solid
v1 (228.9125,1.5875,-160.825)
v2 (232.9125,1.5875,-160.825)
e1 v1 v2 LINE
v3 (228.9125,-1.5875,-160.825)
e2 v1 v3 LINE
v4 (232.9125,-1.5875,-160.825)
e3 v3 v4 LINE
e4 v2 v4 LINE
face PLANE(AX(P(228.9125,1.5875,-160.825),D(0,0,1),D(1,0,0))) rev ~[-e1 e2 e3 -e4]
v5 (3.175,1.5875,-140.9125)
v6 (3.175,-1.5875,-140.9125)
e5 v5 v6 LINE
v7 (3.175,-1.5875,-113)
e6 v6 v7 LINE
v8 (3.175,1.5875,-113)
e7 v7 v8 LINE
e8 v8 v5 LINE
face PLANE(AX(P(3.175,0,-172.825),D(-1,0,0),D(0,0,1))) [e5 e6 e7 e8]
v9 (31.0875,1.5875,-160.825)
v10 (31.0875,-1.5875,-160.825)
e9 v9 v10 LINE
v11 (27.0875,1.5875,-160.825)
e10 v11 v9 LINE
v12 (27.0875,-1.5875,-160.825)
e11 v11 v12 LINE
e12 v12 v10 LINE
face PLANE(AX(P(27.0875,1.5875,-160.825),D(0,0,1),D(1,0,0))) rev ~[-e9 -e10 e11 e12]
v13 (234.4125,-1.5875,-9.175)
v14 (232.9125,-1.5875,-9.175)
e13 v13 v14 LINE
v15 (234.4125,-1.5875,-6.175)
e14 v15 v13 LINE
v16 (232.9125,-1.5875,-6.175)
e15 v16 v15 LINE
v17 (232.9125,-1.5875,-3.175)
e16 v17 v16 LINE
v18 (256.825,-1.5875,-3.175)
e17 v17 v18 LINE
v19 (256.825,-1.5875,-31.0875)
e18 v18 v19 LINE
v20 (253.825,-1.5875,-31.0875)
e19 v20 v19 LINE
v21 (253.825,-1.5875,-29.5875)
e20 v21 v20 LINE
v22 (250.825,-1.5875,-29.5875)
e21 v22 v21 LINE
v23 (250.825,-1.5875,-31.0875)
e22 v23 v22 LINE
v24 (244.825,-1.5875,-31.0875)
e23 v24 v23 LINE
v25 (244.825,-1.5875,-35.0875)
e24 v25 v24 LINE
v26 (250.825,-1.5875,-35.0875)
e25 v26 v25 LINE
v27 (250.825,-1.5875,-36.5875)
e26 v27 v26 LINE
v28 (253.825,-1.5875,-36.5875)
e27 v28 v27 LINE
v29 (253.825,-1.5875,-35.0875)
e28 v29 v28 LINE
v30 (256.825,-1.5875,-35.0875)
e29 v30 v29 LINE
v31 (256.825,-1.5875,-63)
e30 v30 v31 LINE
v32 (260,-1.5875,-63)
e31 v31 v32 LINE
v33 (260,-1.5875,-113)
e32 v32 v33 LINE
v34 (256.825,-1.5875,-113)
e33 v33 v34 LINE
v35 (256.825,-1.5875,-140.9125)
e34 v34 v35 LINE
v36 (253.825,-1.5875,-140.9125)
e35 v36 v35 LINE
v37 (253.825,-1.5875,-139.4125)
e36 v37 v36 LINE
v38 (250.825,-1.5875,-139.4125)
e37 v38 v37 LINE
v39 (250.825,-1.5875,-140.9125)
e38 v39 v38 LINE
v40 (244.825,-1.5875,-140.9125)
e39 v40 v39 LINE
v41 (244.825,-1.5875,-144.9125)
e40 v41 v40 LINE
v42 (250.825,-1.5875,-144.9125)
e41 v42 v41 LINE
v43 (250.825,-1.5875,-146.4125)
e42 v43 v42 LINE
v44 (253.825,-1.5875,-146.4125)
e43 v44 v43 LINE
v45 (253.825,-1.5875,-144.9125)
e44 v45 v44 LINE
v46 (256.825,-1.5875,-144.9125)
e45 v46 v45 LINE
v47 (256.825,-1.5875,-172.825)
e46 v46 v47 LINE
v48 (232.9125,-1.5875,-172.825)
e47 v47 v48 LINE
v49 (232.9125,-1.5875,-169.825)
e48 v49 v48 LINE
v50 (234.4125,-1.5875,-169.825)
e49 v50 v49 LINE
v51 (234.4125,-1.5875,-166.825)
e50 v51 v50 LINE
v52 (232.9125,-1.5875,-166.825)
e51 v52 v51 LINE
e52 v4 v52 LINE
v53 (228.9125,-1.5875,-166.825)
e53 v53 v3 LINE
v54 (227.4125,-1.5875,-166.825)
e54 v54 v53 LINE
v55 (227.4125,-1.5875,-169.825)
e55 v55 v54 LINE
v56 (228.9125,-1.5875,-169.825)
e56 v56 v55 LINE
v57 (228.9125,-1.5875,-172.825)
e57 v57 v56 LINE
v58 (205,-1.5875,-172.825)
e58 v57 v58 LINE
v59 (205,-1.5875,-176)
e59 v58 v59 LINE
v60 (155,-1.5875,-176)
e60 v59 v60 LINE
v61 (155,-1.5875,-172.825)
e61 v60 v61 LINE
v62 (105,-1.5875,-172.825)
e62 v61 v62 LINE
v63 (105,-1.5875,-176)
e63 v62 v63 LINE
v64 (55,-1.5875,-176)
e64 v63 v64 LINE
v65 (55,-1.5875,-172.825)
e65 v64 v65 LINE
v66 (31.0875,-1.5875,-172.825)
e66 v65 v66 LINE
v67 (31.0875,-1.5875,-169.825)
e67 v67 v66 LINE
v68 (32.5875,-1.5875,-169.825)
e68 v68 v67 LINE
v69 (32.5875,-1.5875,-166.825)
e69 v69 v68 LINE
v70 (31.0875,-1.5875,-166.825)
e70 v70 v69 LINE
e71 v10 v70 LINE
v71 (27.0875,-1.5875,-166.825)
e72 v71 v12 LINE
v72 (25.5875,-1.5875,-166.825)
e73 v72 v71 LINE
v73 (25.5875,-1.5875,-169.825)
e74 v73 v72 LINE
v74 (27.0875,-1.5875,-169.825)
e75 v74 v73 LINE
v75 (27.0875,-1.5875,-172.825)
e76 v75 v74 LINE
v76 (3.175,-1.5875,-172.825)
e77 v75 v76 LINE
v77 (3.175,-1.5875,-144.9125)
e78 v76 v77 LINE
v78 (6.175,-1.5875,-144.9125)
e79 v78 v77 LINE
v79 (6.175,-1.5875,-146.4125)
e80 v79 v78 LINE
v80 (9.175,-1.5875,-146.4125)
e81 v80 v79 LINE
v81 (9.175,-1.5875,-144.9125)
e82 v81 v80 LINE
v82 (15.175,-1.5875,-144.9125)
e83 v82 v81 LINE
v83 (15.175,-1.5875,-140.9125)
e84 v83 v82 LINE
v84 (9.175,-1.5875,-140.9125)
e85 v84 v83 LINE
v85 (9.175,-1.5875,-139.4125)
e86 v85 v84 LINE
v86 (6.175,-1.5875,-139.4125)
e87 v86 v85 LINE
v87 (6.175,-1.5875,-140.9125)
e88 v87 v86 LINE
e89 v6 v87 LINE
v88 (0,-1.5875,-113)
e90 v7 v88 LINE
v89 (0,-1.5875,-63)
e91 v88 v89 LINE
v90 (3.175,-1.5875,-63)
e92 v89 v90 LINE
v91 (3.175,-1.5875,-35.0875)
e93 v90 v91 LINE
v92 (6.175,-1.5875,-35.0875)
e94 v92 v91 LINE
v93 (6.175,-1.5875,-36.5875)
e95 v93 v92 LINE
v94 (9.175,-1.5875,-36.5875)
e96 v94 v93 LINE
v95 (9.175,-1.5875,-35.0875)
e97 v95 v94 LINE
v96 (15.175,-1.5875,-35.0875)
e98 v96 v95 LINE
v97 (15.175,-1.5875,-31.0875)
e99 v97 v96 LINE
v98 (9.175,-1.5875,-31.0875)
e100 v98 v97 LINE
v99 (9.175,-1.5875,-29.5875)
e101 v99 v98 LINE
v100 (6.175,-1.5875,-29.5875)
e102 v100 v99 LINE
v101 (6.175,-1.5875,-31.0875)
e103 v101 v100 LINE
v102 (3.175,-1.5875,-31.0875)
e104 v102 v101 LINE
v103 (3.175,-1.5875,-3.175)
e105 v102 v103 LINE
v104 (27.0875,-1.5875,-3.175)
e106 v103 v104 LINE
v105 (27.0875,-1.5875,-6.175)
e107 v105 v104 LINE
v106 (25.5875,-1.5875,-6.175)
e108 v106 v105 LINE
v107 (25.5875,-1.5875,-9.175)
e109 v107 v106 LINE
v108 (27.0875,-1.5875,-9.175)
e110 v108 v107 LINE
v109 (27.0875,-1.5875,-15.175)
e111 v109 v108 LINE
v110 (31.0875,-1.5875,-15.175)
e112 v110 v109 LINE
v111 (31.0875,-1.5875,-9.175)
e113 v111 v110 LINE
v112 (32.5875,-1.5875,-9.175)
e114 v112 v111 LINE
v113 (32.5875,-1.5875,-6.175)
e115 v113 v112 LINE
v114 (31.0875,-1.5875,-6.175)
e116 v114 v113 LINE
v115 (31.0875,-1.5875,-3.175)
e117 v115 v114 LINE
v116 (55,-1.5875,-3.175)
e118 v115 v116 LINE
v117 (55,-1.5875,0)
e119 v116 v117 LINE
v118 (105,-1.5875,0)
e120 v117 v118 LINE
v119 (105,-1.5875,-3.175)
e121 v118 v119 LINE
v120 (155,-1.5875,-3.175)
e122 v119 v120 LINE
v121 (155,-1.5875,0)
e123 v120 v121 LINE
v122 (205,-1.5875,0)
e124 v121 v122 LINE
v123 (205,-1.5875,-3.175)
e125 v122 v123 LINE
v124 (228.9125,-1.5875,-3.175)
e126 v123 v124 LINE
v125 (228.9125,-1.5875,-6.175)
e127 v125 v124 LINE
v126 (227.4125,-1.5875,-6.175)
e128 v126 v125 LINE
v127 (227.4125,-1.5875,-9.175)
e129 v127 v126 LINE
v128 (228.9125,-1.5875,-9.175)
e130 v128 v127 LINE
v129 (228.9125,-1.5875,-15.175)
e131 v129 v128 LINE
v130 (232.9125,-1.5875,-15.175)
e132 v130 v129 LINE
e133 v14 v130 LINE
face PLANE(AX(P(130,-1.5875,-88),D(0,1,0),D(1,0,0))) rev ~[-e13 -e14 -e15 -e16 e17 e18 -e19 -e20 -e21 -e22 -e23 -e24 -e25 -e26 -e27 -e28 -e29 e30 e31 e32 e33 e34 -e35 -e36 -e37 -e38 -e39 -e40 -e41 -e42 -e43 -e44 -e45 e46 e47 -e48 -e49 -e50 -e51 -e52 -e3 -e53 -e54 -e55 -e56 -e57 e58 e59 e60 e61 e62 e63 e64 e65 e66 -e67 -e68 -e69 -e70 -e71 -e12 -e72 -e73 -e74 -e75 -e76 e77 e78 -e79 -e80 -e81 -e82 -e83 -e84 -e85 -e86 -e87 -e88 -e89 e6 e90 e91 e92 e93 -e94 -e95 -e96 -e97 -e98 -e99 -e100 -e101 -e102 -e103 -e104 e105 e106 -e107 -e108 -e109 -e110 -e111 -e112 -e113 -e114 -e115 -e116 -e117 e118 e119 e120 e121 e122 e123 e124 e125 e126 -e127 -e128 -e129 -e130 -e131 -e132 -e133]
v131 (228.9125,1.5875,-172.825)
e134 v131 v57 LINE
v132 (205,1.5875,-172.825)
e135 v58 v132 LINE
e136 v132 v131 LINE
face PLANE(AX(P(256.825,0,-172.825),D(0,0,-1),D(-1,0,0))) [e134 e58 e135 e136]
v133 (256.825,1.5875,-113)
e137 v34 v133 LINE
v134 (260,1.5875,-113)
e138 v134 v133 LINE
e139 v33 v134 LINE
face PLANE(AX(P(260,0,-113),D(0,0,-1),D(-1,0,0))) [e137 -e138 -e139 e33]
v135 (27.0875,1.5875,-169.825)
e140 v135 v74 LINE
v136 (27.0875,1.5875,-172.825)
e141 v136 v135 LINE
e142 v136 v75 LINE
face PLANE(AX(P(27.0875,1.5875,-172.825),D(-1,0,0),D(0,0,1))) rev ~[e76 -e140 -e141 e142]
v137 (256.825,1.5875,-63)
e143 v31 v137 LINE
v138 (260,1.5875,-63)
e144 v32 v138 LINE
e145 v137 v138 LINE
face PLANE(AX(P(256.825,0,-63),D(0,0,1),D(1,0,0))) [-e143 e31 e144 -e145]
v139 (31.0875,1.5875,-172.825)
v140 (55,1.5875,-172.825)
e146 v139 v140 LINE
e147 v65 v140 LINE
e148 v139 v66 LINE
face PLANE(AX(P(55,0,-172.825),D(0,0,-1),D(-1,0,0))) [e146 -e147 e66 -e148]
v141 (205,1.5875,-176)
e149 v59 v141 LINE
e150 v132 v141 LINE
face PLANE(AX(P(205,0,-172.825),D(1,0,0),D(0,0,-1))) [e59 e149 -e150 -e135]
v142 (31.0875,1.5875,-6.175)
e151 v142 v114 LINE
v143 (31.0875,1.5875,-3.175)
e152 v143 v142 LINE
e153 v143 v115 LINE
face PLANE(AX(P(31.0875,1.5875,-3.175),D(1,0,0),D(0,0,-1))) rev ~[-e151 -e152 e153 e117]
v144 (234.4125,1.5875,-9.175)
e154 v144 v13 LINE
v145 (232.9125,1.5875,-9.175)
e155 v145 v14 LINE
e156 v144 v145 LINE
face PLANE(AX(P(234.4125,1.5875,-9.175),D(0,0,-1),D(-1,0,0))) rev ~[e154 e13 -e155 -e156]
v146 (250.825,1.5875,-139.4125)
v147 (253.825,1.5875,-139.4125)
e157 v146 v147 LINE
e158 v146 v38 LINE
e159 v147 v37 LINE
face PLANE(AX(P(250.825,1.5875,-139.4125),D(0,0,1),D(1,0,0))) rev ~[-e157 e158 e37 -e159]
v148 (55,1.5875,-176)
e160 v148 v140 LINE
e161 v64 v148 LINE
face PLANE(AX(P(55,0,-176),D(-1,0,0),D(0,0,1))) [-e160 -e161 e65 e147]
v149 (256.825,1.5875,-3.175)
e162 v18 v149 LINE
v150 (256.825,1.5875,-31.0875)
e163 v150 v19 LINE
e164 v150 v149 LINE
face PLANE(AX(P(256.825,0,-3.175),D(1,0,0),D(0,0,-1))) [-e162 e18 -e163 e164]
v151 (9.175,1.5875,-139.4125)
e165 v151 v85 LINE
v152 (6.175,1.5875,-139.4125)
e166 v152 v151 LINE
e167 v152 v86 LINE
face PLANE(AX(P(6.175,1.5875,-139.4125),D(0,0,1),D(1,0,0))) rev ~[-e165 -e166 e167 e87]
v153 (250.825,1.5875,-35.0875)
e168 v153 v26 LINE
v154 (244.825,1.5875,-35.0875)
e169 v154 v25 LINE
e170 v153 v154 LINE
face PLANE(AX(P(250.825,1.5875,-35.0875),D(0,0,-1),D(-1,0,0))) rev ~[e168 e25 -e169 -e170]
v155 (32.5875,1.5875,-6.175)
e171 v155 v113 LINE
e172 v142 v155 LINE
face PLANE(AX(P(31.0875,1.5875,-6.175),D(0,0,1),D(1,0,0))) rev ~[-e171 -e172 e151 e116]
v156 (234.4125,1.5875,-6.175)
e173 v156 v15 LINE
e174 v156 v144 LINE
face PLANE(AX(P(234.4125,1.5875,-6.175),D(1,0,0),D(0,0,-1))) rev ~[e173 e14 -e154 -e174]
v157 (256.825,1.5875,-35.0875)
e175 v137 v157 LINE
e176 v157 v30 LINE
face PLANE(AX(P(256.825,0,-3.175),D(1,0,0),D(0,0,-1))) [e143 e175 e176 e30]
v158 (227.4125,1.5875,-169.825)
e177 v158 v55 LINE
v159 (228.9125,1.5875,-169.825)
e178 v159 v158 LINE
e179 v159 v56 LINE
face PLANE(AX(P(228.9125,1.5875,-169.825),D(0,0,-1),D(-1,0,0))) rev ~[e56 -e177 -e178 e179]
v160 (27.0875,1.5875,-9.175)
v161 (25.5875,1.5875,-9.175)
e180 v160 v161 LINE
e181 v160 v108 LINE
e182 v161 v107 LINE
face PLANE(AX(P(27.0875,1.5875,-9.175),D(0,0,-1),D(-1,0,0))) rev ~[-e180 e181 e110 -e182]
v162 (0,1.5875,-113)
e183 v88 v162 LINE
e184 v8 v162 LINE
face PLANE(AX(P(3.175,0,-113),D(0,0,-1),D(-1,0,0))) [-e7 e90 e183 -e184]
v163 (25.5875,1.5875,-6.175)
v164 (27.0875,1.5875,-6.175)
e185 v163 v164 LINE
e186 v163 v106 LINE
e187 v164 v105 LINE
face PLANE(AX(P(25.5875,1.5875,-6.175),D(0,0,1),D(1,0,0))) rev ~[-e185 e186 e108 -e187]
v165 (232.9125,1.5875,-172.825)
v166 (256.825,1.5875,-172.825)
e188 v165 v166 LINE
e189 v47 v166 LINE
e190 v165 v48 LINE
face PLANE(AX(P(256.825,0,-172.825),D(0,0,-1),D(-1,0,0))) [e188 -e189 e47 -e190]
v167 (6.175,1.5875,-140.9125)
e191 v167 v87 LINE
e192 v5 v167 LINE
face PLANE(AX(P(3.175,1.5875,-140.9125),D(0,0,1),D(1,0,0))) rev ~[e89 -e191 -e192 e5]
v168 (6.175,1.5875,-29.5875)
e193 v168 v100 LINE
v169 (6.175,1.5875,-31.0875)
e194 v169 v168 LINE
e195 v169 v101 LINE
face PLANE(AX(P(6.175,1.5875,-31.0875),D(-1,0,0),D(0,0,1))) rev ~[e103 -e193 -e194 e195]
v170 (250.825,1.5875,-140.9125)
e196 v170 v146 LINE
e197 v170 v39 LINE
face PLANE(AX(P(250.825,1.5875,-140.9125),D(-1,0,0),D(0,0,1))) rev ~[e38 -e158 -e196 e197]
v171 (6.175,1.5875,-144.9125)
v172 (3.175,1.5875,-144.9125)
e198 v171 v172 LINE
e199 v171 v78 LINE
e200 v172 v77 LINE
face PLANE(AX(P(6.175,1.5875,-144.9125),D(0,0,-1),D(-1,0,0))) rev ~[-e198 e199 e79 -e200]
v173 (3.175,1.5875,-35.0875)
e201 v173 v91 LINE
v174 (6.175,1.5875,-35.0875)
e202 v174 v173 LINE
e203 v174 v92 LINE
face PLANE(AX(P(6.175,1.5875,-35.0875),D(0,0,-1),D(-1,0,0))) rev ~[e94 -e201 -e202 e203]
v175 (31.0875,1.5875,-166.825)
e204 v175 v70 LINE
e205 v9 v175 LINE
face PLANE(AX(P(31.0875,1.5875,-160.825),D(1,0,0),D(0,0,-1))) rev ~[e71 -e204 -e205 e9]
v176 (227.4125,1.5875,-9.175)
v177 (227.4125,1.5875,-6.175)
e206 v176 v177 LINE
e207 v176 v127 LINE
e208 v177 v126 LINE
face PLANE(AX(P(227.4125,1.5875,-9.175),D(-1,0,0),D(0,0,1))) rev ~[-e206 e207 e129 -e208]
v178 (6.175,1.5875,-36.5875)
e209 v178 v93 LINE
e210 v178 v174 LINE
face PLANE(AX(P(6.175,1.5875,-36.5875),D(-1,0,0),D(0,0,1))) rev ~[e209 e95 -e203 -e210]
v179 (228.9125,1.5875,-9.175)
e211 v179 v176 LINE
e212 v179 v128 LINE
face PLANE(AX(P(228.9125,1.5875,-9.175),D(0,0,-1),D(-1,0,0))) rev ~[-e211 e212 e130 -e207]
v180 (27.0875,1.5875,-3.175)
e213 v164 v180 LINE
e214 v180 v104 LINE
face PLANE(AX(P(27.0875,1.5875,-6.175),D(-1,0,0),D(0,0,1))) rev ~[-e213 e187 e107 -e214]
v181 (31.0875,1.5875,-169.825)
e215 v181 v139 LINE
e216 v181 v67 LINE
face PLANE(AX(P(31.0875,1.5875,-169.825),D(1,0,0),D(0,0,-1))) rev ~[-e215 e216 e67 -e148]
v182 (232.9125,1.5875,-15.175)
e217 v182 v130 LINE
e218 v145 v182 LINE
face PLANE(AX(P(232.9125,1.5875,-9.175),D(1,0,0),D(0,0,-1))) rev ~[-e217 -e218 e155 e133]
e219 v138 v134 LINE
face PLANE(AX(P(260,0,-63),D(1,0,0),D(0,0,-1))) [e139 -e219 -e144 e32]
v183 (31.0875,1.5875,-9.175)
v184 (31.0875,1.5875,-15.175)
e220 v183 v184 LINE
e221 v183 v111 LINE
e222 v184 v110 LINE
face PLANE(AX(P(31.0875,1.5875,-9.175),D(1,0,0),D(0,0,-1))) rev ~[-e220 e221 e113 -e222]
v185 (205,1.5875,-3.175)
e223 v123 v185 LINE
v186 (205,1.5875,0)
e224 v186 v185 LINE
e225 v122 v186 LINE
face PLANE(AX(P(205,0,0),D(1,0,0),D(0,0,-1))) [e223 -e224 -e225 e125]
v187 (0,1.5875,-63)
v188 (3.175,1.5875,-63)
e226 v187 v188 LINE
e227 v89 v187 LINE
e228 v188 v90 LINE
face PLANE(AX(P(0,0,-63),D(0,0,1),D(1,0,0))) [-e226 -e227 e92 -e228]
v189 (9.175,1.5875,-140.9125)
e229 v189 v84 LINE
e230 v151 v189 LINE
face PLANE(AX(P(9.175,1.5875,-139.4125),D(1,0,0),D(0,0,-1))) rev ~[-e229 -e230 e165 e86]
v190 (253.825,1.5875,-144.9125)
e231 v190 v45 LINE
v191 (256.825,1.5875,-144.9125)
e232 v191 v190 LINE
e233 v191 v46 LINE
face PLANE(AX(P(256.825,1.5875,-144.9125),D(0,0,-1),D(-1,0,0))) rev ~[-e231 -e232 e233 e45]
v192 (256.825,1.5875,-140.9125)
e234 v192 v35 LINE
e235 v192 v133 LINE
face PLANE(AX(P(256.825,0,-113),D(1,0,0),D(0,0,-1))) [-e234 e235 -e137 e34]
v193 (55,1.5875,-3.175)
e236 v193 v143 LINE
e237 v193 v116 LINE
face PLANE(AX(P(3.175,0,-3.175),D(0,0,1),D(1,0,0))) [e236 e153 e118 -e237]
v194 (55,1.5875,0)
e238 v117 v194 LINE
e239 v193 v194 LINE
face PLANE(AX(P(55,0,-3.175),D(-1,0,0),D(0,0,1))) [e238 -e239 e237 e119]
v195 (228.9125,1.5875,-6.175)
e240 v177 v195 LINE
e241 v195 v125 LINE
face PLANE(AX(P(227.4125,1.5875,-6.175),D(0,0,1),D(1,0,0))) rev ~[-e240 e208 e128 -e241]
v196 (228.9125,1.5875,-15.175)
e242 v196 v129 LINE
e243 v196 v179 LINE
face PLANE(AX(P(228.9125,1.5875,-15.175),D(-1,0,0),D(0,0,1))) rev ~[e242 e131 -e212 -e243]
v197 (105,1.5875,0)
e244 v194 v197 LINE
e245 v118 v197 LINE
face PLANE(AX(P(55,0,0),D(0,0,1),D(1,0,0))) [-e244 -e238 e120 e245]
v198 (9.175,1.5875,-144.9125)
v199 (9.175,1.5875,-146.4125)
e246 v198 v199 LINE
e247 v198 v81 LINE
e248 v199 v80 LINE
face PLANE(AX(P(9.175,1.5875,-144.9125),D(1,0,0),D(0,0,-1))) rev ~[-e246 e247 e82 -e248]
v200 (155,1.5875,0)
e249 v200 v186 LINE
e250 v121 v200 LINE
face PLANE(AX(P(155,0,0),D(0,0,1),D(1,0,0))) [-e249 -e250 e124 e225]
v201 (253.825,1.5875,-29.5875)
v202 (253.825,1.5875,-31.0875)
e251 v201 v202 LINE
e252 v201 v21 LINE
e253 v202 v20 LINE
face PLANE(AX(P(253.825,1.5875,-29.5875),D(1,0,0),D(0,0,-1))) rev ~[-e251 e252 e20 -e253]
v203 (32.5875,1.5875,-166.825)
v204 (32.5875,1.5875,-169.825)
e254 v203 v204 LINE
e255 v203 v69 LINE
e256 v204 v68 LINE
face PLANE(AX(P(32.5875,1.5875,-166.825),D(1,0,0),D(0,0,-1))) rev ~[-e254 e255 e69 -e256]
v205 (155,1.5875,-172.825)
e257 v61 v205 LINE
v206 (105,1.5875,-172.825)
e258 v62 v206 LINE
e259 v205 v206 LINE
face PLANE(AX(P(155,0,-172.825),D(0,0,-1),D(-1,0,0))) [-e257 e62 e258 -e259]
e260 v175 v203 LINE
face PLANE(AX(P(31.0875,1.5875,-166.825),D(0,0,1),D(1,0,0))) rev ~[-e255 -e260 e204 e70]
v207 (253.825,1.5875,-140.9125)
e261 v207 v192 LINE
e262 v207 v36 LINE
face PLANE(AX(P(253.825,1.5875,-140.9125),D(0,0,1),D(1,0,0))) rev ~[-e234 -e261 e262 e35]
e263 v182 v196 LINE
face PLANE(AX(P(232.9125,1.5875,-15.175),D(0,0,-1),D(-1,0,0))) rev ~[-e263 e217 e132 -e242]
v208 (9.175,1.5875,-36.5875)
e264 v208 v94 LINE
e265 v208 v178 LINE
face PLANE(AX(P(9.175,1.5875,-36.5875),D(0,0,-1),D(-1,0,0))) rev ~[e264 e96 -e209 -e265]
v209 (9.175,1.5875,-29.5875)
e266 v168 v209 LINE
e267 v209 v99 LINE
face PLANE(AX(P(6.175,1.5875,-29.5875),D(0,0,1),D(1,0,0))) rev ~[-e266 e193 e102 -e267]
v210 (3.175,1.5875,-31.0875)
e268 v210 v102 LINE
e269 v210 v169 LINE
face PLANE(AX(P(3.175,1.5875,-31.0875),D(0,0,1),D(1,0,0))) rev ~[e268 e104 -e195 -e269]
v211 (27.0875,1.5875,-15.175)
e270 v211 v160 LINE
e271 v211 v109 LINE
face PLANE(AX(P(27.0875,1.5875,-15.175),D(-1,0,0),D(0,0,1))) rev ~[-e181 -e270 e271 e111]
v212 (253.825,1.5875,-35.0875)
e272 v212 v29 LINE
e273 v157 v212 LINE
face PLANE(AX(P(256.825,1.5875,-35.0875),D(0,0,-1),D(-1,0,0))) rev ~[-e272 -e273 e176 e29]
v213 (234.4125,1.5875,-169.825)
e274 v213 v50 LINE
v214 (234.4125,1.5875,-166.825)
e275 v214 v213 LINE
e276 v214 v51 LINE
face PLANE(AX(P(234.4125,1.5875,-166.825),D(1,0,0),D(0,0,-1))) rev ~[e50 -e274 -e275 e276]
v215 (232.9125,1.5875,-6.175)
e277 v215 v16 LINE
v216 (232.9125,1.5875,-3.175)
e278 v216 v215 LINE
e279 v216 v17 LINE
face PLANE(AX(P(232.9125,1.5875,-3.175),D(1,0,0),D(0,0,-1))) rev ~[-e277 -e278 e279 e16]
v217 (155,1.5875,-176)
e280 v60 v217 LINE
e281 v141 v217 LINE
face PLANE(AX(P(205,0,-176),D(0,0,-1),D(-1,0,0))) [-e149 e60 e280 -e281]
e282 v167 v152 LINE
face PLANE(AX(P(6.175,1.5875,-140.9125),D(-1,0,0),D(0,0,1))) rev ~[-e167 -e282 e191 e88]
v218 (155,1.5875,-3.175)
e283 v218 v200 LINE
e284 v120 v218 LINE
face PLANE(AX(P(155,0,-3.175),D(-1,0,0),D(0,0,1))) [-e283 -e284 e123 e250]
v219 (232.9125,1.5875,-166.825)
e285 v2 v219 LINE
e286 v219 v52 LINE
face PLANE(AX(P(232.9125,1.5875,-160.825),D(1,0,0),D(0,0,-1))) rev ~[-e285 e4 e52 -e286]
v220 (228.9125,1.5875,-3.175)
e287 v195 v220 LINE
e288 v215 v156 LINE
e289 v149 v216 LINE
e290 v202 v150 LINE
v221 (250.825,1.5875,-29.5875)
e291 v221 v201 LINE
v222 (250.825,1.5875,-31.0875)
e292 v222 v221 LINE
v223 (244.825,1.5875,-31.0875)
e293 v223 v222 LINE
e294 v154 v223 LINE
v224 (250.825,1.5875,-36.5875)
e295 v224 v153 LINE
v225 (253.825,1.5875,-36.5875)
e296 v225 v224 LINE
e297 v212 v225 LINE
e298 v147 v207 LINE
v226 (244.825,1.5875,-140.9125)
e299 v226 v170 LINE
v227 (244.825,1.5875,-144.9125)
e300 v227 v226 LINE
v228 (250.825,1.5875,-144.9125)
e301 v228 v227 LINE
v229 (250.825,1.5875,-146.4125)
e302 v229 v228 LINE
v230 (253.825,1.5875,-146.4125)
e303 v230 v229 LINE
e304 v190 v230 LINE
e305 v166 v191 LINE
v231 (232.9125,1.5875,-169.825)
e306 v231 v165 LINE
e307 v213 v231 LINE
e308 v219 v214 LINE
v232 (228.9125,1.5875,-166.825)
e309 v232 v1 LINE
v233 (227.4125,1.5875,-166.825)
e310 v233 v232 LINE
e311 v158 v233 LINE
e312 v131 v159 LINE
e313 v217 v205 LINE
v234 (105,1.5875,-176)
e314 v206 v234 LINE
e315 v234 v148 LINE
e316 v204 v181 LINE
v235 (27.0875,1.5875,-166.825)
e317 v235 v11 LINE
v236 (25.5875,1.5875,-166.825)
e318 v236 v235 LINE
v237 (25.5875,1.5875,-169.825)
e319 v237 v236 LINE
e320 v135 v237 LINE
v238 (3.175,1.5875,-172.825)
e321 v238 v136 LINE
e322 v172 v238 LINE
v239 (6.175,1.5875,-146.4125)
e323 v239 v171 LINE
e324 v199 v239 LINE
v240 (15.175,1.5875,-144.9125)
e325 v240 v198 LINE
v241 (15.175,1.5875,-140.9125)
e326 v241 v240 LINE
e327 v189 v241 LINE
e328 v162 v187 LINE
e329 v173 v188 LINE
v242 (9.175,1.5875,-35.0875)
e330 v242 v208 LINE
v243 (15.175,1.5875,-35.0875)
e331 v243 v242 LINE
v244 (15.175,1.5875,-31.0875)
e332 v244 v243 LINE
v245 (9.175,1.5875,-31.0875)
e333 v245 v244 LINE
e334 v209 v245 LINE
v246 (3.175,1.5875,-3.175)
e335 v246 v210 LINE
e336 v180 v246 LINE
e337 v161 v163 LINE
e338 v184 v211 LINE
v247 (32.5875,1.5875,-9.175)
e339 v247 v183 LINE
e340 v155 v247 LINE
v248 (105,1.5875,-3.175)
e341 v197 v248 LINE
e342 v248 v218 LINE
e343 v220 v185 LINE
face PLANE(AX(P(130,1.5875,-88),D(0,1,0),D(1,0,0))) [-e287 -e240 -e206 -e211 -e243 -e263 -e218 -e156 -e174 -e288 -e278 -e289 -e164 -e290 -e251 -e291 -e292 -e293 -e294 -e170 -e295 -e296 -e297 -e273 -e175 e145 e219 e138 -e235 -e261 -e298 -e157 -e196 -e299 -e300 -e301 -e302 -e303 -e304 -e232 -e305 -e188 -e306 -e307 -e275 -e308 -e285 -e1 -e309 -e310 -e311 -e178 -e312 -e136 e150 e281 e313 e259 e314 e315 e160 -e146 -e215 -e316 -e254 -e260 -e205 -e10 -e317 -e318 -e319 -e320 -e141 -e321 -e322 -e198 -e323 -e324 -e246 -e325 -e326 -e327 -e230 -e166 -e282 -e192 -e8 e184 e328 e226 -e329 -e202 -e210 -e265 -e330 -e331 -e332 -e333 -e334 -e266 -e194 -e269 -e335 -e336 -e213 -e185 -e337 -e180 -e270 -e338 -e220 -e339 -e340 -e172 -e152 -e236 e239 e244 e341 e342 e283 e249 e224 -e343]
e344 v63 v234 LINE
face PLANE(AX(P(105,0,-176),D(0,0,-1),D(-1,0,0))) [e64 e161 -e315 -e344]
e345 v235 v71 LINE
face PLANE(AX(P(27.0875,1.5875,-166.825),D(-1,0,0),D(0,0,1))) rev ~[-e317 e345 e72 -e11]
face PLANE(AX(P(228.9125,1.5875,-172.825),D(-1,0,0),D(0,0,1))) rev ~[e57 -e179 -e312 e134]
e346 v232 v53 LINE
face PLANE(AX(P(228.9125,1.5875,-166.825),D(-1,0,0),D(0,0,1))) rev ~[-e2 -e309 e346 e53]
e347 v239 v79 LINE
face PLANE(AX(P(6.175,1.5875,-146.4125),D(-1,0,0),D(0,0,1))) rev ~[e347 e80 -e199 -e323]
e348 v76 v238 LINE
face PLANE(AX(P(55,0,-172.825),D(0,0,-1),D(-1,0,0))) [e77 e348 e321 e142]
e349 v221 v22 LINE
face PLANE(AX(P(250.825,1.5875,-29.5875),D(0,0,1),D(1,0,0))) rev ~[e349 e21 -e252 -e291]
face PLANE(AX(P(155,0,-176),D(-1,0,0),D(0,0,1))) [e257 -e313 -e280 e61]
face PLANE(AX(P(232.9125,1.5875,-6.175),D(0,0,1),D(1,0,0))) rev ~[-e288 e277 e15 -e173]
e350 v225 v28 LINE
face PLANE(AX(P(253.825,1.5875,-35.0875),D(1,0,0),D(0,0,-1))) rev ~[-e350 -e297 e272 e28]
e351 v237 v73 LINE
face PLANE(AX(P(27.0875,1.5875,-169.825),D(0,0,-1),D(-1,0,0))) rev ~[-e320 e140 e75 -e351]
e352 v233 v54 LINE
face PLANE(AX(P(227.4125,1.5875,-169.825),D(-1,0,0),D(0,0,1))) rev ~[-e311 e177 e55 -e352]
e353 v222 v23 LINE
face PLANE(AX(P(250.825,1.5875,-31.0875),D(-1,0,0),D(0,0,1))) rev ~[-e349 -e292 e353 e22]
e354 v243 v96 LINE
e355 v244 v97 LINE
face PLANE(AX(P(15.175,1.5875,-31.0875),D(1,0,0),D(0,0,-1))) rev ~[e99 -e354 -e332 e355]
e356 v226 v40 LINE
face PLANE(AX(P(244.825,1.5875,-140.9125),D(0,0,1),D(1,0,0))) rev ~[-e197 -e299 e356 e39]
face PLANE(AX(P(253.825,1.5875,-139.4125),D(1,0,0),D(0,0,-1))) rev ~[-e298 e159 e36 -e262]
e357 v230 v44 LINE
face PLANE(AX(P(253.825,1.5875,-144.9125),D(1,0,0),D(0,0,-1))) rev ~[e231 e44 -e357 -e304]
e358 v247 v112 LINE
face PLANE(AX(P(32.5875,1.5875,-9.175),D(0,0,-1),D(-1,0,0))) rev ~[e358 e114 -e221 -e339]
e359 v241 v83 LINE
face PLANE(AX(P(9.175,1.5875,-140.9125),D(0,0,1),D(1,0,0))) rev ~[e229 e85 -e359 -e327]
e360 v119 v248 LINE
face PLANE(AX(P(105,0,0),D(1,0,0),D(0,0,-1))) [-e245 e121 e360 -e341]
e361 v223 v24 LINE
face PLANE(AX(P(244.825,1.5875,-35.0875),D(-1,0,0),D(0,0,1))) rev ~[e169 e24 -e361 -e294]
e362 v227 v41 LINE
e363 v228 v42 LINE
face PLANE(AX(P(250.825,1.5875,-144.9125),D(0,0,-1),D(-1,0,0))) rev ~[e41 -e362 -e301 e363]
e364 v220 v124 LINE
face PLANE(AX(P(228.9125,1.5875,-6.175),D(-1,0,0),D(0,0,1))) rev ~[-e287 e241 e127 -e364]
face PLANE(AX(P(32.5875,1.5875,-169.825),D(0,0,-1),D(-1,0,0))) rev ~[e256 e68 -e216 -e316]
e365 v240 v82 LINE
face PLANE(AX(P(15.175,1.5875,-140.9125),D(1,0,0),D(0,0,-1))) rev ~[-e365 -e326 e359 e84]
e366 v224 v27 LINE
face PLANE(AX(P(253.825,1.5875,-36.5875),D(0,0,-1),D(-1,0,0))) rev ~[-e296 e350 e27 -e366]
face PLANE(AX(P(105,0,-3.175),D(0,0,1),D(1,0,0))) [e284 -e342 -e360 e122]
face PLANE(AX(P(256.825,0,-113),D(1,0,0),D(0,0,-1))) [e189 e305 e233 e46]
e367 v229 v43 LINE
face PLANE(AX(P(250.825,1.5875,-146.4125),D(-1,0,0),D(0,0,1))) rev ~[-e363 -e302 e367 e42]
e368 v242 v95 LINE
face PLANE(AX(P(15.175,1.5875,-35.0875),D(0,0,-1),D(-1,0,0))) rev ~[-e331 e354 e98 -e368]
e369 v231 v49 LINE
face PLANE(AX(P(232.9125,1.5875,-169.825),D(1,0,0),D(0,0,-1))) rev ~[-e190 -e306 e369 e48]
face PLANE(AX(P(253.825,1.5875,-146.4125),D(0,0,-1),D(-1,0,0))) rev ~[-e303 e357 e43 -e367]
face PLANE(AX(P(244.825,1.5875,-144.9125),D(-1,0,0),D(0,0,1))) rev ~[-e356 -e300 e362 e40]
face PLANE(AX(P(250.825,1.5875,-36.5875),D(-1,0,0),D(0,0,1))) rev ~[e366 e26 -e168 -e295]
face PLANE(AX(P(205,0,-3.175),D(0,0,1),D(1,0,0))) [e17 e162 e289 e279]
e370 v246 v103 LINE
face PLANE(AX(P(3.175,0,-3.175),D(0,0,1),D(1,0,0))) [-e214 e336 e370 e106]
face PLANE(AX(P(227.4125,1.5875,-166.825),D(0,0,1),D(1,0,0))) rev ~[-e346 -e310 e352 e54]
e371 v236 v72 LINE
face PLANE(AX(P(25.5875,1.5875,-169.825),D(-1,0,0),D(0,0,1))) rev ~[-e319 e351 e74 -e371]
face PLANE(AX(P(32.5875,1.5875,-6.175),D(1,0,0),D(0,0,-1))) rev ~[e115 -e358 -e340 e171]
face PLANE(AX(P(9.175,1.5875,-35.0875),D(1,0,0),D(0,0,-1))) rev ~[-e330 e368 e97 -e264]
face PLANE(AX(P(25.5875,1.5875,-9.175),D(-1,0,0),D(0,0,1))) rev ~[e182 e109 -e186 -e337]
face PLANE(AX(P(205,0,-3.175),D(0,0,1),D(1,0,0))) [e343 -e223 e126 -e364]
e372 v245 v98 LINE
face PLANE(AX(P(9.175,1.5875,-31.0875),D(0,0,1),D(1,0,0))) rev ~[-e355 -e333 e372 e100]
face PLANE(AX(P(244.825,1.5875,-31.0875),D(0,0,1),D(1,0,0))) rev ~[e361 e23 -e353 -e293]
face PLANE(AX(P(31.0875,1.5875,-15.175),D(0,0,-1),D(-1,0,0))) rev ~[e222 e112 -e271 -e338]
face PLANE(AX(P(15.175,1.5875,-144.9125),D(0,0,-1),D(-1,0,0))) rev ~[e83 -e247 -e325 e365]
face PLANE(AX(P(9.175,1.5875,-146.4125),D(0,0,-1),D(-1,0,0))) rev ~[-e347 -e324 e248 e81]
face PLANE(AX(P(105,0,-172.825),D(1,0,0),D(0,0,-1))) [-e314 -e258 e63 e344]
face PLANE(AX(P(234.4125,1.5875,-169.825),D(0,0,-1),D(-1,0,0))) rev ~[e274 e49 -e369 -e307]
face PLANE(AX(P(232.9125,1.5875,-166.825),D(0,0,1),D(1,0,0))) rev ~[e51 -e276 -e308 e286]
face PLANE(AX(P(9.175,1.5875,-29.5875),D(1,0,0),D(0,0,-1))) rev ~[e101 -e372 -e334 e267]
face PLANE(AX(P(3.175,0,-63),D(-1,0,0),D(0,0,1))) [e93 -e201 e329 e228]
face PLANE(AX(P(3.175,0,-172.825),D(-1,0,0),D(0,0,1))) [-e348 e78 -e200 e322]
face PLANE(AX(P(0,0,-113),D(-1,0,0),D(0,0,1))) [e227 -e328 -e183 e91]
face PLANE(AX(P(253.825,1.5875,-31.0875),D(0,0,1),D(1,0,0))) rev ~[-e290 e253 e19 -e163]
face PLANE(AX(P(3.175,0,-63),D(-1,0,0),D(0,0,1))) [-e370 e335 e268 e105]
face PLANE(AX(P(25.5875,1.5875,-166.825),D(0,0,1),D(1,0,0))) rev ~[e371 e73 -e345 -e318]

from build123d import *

# Parameters (mm, degrees)
BOSS_EXTRUDE1_DEPTH     = 1.5875
CUT_EXTRUDE1_DEPTH      = 1
CUT_EXTRUDE1_DEPTH_BACK = 4.175


with BuildPart() as part:
    # Sketch1 → Boss-Extrude1 (new body, symmetric)
    with BuildSketch(Plane(origin=(0, 0, 0), x_dir=(1, 0, 0), z_dir=(0, 1, 0))):
        Polygon((55, 3.175), (55, 0), (105, 0), (105, 3.175), (155, 3.175), (155, 0), (205, 0), (205, 3.175), (256.825, 3.175), (256.825, 63), (260, 63), (260, 113), (256.825, 113), (256.825, 172.825), (205, 172.825), (205, 176), (155, 176), (155, 172.825), (105, 172.825), (105, 176), (55, 176), (55, 172.825), (3.175, 172.825), (3.175, 113), (0, 113), (0, 63), (3.175, 63), (3.175, 3.175), align=None)
    extrude(amount=BOSS_EXTRUDE1_DEPTH, both=True)

    # Sketch3 → Cut-Extrude1 (cut, two sides)
    with BuildSketch(Plane(origin=(0, 1.5875, 0), x_dir=(1, 0, 0), z_dir=(0, 1, 0))) as cut_extrude1_sk:
        Polygon((228.9125, 3.175), (232.9125, 3.175), (232.9125, 6.175), (234.4125, 6.175), (234.4125, 9.175), (232.9125, 9.175), (232.9125, 15.175), (228.9125, 15.175), (228.9125, 9.175), (227.4125, 9.175), (227.4125, 6.175), (228.9125, 6.175), align=None)
        Polygon((253.825, 31.0875), (256.825, 31.0875), (256.825, 35.0875), (253.825, 35.0875), (253.825, 36.5875), (250.825, 36.5875), (250.825, 35.0875), (244.825, 35.0875), (244.825, 31.0875), (250.825, 31.0875), (250.825, 29.5875), (253.825, 29.5875), align=None)
        Polygon((253.825, 140.9125), (256.825, 140.9125), (256.825, 144.9125), (253.825, 144.9125), (253.825, 146.4125), (250.825, 146.4125), (250.825, 144.9125), (244.825, 144.9125), (244.825, 140.9125), (250.825, 140.9125), (250.825, 139.4125), (253.825, 139.4125), align=None)
        Polygon((232.9125, 169.825), (232.9125, 172.825), (228.9125, 172.825), (228.9125, 169.825), (227.4125, 169.825), (227.4125, 166.825), (228.9125, 166.825), (228.9125, 160.825), (232.9125, 160.825), (232.9125, 166.825), (234.4125, 166.825), (234.4125, 169.825), align=None)
        Polygon((25.5875, 169.825), (25.5875, 166.825), (27.0875, 166.825), (27.0875, 160.825), (31.0875, 160.825), (31.0875, 166.825), (32.5875, 166.825), (32.5875, 169.825), (31.0875, 169.825), (31.0875, 172.825), (27.0875, 172.825), (27.0875, 169.825), align=None)
        Polygon((6.175, 144.9125), (3.175, 144.9125), (3.175, 140.9125), (6.175, 140.9125), (6.175, 139.4125), (9.175, 139.4125), (9.175, 140.9125), (15.175, 140.9125), (15.175, 144.9125), (9.175, 144.9125), (9.175, 146.4125), (6.175, 146.4125), align=None)
        Polygon((6.175, 35.0875), (3.175, 35.0875), (3.175, 31.0875), (6.175, 31.0875), (6.175, 29.5875), (9.175, 29.5875), (9.175, 31.0875), (15.175, 31.0875), (15.175, 35.0875), (9.175, 35.0875), (9.175, 36.5875), (6.175, 36.5875), align=None)
        Polygon((27.0875, 6.175), (27.0875, 3.175), (31.0875, 3.175), (31.0875, 6.175), (32.5875, 6.175), (32.5875, 9.175), (31.0875, 9.175), (31.0875, 15.175), (27.0875, 15.175), (27.0875, 9.175), (25.5875, 9.175), (25.5875, 6.175), align=None)
    extrude(amount=CUT_EXTRUDE1_DEPTH, mode=Mode.SUBTRACT)
    extrude(cut_extrude1_sk.sketch, amount=-CUT_EXTRUDE1_DEPTH_BACK, mode=Mode.SUBTRACT)


solid = part.part
